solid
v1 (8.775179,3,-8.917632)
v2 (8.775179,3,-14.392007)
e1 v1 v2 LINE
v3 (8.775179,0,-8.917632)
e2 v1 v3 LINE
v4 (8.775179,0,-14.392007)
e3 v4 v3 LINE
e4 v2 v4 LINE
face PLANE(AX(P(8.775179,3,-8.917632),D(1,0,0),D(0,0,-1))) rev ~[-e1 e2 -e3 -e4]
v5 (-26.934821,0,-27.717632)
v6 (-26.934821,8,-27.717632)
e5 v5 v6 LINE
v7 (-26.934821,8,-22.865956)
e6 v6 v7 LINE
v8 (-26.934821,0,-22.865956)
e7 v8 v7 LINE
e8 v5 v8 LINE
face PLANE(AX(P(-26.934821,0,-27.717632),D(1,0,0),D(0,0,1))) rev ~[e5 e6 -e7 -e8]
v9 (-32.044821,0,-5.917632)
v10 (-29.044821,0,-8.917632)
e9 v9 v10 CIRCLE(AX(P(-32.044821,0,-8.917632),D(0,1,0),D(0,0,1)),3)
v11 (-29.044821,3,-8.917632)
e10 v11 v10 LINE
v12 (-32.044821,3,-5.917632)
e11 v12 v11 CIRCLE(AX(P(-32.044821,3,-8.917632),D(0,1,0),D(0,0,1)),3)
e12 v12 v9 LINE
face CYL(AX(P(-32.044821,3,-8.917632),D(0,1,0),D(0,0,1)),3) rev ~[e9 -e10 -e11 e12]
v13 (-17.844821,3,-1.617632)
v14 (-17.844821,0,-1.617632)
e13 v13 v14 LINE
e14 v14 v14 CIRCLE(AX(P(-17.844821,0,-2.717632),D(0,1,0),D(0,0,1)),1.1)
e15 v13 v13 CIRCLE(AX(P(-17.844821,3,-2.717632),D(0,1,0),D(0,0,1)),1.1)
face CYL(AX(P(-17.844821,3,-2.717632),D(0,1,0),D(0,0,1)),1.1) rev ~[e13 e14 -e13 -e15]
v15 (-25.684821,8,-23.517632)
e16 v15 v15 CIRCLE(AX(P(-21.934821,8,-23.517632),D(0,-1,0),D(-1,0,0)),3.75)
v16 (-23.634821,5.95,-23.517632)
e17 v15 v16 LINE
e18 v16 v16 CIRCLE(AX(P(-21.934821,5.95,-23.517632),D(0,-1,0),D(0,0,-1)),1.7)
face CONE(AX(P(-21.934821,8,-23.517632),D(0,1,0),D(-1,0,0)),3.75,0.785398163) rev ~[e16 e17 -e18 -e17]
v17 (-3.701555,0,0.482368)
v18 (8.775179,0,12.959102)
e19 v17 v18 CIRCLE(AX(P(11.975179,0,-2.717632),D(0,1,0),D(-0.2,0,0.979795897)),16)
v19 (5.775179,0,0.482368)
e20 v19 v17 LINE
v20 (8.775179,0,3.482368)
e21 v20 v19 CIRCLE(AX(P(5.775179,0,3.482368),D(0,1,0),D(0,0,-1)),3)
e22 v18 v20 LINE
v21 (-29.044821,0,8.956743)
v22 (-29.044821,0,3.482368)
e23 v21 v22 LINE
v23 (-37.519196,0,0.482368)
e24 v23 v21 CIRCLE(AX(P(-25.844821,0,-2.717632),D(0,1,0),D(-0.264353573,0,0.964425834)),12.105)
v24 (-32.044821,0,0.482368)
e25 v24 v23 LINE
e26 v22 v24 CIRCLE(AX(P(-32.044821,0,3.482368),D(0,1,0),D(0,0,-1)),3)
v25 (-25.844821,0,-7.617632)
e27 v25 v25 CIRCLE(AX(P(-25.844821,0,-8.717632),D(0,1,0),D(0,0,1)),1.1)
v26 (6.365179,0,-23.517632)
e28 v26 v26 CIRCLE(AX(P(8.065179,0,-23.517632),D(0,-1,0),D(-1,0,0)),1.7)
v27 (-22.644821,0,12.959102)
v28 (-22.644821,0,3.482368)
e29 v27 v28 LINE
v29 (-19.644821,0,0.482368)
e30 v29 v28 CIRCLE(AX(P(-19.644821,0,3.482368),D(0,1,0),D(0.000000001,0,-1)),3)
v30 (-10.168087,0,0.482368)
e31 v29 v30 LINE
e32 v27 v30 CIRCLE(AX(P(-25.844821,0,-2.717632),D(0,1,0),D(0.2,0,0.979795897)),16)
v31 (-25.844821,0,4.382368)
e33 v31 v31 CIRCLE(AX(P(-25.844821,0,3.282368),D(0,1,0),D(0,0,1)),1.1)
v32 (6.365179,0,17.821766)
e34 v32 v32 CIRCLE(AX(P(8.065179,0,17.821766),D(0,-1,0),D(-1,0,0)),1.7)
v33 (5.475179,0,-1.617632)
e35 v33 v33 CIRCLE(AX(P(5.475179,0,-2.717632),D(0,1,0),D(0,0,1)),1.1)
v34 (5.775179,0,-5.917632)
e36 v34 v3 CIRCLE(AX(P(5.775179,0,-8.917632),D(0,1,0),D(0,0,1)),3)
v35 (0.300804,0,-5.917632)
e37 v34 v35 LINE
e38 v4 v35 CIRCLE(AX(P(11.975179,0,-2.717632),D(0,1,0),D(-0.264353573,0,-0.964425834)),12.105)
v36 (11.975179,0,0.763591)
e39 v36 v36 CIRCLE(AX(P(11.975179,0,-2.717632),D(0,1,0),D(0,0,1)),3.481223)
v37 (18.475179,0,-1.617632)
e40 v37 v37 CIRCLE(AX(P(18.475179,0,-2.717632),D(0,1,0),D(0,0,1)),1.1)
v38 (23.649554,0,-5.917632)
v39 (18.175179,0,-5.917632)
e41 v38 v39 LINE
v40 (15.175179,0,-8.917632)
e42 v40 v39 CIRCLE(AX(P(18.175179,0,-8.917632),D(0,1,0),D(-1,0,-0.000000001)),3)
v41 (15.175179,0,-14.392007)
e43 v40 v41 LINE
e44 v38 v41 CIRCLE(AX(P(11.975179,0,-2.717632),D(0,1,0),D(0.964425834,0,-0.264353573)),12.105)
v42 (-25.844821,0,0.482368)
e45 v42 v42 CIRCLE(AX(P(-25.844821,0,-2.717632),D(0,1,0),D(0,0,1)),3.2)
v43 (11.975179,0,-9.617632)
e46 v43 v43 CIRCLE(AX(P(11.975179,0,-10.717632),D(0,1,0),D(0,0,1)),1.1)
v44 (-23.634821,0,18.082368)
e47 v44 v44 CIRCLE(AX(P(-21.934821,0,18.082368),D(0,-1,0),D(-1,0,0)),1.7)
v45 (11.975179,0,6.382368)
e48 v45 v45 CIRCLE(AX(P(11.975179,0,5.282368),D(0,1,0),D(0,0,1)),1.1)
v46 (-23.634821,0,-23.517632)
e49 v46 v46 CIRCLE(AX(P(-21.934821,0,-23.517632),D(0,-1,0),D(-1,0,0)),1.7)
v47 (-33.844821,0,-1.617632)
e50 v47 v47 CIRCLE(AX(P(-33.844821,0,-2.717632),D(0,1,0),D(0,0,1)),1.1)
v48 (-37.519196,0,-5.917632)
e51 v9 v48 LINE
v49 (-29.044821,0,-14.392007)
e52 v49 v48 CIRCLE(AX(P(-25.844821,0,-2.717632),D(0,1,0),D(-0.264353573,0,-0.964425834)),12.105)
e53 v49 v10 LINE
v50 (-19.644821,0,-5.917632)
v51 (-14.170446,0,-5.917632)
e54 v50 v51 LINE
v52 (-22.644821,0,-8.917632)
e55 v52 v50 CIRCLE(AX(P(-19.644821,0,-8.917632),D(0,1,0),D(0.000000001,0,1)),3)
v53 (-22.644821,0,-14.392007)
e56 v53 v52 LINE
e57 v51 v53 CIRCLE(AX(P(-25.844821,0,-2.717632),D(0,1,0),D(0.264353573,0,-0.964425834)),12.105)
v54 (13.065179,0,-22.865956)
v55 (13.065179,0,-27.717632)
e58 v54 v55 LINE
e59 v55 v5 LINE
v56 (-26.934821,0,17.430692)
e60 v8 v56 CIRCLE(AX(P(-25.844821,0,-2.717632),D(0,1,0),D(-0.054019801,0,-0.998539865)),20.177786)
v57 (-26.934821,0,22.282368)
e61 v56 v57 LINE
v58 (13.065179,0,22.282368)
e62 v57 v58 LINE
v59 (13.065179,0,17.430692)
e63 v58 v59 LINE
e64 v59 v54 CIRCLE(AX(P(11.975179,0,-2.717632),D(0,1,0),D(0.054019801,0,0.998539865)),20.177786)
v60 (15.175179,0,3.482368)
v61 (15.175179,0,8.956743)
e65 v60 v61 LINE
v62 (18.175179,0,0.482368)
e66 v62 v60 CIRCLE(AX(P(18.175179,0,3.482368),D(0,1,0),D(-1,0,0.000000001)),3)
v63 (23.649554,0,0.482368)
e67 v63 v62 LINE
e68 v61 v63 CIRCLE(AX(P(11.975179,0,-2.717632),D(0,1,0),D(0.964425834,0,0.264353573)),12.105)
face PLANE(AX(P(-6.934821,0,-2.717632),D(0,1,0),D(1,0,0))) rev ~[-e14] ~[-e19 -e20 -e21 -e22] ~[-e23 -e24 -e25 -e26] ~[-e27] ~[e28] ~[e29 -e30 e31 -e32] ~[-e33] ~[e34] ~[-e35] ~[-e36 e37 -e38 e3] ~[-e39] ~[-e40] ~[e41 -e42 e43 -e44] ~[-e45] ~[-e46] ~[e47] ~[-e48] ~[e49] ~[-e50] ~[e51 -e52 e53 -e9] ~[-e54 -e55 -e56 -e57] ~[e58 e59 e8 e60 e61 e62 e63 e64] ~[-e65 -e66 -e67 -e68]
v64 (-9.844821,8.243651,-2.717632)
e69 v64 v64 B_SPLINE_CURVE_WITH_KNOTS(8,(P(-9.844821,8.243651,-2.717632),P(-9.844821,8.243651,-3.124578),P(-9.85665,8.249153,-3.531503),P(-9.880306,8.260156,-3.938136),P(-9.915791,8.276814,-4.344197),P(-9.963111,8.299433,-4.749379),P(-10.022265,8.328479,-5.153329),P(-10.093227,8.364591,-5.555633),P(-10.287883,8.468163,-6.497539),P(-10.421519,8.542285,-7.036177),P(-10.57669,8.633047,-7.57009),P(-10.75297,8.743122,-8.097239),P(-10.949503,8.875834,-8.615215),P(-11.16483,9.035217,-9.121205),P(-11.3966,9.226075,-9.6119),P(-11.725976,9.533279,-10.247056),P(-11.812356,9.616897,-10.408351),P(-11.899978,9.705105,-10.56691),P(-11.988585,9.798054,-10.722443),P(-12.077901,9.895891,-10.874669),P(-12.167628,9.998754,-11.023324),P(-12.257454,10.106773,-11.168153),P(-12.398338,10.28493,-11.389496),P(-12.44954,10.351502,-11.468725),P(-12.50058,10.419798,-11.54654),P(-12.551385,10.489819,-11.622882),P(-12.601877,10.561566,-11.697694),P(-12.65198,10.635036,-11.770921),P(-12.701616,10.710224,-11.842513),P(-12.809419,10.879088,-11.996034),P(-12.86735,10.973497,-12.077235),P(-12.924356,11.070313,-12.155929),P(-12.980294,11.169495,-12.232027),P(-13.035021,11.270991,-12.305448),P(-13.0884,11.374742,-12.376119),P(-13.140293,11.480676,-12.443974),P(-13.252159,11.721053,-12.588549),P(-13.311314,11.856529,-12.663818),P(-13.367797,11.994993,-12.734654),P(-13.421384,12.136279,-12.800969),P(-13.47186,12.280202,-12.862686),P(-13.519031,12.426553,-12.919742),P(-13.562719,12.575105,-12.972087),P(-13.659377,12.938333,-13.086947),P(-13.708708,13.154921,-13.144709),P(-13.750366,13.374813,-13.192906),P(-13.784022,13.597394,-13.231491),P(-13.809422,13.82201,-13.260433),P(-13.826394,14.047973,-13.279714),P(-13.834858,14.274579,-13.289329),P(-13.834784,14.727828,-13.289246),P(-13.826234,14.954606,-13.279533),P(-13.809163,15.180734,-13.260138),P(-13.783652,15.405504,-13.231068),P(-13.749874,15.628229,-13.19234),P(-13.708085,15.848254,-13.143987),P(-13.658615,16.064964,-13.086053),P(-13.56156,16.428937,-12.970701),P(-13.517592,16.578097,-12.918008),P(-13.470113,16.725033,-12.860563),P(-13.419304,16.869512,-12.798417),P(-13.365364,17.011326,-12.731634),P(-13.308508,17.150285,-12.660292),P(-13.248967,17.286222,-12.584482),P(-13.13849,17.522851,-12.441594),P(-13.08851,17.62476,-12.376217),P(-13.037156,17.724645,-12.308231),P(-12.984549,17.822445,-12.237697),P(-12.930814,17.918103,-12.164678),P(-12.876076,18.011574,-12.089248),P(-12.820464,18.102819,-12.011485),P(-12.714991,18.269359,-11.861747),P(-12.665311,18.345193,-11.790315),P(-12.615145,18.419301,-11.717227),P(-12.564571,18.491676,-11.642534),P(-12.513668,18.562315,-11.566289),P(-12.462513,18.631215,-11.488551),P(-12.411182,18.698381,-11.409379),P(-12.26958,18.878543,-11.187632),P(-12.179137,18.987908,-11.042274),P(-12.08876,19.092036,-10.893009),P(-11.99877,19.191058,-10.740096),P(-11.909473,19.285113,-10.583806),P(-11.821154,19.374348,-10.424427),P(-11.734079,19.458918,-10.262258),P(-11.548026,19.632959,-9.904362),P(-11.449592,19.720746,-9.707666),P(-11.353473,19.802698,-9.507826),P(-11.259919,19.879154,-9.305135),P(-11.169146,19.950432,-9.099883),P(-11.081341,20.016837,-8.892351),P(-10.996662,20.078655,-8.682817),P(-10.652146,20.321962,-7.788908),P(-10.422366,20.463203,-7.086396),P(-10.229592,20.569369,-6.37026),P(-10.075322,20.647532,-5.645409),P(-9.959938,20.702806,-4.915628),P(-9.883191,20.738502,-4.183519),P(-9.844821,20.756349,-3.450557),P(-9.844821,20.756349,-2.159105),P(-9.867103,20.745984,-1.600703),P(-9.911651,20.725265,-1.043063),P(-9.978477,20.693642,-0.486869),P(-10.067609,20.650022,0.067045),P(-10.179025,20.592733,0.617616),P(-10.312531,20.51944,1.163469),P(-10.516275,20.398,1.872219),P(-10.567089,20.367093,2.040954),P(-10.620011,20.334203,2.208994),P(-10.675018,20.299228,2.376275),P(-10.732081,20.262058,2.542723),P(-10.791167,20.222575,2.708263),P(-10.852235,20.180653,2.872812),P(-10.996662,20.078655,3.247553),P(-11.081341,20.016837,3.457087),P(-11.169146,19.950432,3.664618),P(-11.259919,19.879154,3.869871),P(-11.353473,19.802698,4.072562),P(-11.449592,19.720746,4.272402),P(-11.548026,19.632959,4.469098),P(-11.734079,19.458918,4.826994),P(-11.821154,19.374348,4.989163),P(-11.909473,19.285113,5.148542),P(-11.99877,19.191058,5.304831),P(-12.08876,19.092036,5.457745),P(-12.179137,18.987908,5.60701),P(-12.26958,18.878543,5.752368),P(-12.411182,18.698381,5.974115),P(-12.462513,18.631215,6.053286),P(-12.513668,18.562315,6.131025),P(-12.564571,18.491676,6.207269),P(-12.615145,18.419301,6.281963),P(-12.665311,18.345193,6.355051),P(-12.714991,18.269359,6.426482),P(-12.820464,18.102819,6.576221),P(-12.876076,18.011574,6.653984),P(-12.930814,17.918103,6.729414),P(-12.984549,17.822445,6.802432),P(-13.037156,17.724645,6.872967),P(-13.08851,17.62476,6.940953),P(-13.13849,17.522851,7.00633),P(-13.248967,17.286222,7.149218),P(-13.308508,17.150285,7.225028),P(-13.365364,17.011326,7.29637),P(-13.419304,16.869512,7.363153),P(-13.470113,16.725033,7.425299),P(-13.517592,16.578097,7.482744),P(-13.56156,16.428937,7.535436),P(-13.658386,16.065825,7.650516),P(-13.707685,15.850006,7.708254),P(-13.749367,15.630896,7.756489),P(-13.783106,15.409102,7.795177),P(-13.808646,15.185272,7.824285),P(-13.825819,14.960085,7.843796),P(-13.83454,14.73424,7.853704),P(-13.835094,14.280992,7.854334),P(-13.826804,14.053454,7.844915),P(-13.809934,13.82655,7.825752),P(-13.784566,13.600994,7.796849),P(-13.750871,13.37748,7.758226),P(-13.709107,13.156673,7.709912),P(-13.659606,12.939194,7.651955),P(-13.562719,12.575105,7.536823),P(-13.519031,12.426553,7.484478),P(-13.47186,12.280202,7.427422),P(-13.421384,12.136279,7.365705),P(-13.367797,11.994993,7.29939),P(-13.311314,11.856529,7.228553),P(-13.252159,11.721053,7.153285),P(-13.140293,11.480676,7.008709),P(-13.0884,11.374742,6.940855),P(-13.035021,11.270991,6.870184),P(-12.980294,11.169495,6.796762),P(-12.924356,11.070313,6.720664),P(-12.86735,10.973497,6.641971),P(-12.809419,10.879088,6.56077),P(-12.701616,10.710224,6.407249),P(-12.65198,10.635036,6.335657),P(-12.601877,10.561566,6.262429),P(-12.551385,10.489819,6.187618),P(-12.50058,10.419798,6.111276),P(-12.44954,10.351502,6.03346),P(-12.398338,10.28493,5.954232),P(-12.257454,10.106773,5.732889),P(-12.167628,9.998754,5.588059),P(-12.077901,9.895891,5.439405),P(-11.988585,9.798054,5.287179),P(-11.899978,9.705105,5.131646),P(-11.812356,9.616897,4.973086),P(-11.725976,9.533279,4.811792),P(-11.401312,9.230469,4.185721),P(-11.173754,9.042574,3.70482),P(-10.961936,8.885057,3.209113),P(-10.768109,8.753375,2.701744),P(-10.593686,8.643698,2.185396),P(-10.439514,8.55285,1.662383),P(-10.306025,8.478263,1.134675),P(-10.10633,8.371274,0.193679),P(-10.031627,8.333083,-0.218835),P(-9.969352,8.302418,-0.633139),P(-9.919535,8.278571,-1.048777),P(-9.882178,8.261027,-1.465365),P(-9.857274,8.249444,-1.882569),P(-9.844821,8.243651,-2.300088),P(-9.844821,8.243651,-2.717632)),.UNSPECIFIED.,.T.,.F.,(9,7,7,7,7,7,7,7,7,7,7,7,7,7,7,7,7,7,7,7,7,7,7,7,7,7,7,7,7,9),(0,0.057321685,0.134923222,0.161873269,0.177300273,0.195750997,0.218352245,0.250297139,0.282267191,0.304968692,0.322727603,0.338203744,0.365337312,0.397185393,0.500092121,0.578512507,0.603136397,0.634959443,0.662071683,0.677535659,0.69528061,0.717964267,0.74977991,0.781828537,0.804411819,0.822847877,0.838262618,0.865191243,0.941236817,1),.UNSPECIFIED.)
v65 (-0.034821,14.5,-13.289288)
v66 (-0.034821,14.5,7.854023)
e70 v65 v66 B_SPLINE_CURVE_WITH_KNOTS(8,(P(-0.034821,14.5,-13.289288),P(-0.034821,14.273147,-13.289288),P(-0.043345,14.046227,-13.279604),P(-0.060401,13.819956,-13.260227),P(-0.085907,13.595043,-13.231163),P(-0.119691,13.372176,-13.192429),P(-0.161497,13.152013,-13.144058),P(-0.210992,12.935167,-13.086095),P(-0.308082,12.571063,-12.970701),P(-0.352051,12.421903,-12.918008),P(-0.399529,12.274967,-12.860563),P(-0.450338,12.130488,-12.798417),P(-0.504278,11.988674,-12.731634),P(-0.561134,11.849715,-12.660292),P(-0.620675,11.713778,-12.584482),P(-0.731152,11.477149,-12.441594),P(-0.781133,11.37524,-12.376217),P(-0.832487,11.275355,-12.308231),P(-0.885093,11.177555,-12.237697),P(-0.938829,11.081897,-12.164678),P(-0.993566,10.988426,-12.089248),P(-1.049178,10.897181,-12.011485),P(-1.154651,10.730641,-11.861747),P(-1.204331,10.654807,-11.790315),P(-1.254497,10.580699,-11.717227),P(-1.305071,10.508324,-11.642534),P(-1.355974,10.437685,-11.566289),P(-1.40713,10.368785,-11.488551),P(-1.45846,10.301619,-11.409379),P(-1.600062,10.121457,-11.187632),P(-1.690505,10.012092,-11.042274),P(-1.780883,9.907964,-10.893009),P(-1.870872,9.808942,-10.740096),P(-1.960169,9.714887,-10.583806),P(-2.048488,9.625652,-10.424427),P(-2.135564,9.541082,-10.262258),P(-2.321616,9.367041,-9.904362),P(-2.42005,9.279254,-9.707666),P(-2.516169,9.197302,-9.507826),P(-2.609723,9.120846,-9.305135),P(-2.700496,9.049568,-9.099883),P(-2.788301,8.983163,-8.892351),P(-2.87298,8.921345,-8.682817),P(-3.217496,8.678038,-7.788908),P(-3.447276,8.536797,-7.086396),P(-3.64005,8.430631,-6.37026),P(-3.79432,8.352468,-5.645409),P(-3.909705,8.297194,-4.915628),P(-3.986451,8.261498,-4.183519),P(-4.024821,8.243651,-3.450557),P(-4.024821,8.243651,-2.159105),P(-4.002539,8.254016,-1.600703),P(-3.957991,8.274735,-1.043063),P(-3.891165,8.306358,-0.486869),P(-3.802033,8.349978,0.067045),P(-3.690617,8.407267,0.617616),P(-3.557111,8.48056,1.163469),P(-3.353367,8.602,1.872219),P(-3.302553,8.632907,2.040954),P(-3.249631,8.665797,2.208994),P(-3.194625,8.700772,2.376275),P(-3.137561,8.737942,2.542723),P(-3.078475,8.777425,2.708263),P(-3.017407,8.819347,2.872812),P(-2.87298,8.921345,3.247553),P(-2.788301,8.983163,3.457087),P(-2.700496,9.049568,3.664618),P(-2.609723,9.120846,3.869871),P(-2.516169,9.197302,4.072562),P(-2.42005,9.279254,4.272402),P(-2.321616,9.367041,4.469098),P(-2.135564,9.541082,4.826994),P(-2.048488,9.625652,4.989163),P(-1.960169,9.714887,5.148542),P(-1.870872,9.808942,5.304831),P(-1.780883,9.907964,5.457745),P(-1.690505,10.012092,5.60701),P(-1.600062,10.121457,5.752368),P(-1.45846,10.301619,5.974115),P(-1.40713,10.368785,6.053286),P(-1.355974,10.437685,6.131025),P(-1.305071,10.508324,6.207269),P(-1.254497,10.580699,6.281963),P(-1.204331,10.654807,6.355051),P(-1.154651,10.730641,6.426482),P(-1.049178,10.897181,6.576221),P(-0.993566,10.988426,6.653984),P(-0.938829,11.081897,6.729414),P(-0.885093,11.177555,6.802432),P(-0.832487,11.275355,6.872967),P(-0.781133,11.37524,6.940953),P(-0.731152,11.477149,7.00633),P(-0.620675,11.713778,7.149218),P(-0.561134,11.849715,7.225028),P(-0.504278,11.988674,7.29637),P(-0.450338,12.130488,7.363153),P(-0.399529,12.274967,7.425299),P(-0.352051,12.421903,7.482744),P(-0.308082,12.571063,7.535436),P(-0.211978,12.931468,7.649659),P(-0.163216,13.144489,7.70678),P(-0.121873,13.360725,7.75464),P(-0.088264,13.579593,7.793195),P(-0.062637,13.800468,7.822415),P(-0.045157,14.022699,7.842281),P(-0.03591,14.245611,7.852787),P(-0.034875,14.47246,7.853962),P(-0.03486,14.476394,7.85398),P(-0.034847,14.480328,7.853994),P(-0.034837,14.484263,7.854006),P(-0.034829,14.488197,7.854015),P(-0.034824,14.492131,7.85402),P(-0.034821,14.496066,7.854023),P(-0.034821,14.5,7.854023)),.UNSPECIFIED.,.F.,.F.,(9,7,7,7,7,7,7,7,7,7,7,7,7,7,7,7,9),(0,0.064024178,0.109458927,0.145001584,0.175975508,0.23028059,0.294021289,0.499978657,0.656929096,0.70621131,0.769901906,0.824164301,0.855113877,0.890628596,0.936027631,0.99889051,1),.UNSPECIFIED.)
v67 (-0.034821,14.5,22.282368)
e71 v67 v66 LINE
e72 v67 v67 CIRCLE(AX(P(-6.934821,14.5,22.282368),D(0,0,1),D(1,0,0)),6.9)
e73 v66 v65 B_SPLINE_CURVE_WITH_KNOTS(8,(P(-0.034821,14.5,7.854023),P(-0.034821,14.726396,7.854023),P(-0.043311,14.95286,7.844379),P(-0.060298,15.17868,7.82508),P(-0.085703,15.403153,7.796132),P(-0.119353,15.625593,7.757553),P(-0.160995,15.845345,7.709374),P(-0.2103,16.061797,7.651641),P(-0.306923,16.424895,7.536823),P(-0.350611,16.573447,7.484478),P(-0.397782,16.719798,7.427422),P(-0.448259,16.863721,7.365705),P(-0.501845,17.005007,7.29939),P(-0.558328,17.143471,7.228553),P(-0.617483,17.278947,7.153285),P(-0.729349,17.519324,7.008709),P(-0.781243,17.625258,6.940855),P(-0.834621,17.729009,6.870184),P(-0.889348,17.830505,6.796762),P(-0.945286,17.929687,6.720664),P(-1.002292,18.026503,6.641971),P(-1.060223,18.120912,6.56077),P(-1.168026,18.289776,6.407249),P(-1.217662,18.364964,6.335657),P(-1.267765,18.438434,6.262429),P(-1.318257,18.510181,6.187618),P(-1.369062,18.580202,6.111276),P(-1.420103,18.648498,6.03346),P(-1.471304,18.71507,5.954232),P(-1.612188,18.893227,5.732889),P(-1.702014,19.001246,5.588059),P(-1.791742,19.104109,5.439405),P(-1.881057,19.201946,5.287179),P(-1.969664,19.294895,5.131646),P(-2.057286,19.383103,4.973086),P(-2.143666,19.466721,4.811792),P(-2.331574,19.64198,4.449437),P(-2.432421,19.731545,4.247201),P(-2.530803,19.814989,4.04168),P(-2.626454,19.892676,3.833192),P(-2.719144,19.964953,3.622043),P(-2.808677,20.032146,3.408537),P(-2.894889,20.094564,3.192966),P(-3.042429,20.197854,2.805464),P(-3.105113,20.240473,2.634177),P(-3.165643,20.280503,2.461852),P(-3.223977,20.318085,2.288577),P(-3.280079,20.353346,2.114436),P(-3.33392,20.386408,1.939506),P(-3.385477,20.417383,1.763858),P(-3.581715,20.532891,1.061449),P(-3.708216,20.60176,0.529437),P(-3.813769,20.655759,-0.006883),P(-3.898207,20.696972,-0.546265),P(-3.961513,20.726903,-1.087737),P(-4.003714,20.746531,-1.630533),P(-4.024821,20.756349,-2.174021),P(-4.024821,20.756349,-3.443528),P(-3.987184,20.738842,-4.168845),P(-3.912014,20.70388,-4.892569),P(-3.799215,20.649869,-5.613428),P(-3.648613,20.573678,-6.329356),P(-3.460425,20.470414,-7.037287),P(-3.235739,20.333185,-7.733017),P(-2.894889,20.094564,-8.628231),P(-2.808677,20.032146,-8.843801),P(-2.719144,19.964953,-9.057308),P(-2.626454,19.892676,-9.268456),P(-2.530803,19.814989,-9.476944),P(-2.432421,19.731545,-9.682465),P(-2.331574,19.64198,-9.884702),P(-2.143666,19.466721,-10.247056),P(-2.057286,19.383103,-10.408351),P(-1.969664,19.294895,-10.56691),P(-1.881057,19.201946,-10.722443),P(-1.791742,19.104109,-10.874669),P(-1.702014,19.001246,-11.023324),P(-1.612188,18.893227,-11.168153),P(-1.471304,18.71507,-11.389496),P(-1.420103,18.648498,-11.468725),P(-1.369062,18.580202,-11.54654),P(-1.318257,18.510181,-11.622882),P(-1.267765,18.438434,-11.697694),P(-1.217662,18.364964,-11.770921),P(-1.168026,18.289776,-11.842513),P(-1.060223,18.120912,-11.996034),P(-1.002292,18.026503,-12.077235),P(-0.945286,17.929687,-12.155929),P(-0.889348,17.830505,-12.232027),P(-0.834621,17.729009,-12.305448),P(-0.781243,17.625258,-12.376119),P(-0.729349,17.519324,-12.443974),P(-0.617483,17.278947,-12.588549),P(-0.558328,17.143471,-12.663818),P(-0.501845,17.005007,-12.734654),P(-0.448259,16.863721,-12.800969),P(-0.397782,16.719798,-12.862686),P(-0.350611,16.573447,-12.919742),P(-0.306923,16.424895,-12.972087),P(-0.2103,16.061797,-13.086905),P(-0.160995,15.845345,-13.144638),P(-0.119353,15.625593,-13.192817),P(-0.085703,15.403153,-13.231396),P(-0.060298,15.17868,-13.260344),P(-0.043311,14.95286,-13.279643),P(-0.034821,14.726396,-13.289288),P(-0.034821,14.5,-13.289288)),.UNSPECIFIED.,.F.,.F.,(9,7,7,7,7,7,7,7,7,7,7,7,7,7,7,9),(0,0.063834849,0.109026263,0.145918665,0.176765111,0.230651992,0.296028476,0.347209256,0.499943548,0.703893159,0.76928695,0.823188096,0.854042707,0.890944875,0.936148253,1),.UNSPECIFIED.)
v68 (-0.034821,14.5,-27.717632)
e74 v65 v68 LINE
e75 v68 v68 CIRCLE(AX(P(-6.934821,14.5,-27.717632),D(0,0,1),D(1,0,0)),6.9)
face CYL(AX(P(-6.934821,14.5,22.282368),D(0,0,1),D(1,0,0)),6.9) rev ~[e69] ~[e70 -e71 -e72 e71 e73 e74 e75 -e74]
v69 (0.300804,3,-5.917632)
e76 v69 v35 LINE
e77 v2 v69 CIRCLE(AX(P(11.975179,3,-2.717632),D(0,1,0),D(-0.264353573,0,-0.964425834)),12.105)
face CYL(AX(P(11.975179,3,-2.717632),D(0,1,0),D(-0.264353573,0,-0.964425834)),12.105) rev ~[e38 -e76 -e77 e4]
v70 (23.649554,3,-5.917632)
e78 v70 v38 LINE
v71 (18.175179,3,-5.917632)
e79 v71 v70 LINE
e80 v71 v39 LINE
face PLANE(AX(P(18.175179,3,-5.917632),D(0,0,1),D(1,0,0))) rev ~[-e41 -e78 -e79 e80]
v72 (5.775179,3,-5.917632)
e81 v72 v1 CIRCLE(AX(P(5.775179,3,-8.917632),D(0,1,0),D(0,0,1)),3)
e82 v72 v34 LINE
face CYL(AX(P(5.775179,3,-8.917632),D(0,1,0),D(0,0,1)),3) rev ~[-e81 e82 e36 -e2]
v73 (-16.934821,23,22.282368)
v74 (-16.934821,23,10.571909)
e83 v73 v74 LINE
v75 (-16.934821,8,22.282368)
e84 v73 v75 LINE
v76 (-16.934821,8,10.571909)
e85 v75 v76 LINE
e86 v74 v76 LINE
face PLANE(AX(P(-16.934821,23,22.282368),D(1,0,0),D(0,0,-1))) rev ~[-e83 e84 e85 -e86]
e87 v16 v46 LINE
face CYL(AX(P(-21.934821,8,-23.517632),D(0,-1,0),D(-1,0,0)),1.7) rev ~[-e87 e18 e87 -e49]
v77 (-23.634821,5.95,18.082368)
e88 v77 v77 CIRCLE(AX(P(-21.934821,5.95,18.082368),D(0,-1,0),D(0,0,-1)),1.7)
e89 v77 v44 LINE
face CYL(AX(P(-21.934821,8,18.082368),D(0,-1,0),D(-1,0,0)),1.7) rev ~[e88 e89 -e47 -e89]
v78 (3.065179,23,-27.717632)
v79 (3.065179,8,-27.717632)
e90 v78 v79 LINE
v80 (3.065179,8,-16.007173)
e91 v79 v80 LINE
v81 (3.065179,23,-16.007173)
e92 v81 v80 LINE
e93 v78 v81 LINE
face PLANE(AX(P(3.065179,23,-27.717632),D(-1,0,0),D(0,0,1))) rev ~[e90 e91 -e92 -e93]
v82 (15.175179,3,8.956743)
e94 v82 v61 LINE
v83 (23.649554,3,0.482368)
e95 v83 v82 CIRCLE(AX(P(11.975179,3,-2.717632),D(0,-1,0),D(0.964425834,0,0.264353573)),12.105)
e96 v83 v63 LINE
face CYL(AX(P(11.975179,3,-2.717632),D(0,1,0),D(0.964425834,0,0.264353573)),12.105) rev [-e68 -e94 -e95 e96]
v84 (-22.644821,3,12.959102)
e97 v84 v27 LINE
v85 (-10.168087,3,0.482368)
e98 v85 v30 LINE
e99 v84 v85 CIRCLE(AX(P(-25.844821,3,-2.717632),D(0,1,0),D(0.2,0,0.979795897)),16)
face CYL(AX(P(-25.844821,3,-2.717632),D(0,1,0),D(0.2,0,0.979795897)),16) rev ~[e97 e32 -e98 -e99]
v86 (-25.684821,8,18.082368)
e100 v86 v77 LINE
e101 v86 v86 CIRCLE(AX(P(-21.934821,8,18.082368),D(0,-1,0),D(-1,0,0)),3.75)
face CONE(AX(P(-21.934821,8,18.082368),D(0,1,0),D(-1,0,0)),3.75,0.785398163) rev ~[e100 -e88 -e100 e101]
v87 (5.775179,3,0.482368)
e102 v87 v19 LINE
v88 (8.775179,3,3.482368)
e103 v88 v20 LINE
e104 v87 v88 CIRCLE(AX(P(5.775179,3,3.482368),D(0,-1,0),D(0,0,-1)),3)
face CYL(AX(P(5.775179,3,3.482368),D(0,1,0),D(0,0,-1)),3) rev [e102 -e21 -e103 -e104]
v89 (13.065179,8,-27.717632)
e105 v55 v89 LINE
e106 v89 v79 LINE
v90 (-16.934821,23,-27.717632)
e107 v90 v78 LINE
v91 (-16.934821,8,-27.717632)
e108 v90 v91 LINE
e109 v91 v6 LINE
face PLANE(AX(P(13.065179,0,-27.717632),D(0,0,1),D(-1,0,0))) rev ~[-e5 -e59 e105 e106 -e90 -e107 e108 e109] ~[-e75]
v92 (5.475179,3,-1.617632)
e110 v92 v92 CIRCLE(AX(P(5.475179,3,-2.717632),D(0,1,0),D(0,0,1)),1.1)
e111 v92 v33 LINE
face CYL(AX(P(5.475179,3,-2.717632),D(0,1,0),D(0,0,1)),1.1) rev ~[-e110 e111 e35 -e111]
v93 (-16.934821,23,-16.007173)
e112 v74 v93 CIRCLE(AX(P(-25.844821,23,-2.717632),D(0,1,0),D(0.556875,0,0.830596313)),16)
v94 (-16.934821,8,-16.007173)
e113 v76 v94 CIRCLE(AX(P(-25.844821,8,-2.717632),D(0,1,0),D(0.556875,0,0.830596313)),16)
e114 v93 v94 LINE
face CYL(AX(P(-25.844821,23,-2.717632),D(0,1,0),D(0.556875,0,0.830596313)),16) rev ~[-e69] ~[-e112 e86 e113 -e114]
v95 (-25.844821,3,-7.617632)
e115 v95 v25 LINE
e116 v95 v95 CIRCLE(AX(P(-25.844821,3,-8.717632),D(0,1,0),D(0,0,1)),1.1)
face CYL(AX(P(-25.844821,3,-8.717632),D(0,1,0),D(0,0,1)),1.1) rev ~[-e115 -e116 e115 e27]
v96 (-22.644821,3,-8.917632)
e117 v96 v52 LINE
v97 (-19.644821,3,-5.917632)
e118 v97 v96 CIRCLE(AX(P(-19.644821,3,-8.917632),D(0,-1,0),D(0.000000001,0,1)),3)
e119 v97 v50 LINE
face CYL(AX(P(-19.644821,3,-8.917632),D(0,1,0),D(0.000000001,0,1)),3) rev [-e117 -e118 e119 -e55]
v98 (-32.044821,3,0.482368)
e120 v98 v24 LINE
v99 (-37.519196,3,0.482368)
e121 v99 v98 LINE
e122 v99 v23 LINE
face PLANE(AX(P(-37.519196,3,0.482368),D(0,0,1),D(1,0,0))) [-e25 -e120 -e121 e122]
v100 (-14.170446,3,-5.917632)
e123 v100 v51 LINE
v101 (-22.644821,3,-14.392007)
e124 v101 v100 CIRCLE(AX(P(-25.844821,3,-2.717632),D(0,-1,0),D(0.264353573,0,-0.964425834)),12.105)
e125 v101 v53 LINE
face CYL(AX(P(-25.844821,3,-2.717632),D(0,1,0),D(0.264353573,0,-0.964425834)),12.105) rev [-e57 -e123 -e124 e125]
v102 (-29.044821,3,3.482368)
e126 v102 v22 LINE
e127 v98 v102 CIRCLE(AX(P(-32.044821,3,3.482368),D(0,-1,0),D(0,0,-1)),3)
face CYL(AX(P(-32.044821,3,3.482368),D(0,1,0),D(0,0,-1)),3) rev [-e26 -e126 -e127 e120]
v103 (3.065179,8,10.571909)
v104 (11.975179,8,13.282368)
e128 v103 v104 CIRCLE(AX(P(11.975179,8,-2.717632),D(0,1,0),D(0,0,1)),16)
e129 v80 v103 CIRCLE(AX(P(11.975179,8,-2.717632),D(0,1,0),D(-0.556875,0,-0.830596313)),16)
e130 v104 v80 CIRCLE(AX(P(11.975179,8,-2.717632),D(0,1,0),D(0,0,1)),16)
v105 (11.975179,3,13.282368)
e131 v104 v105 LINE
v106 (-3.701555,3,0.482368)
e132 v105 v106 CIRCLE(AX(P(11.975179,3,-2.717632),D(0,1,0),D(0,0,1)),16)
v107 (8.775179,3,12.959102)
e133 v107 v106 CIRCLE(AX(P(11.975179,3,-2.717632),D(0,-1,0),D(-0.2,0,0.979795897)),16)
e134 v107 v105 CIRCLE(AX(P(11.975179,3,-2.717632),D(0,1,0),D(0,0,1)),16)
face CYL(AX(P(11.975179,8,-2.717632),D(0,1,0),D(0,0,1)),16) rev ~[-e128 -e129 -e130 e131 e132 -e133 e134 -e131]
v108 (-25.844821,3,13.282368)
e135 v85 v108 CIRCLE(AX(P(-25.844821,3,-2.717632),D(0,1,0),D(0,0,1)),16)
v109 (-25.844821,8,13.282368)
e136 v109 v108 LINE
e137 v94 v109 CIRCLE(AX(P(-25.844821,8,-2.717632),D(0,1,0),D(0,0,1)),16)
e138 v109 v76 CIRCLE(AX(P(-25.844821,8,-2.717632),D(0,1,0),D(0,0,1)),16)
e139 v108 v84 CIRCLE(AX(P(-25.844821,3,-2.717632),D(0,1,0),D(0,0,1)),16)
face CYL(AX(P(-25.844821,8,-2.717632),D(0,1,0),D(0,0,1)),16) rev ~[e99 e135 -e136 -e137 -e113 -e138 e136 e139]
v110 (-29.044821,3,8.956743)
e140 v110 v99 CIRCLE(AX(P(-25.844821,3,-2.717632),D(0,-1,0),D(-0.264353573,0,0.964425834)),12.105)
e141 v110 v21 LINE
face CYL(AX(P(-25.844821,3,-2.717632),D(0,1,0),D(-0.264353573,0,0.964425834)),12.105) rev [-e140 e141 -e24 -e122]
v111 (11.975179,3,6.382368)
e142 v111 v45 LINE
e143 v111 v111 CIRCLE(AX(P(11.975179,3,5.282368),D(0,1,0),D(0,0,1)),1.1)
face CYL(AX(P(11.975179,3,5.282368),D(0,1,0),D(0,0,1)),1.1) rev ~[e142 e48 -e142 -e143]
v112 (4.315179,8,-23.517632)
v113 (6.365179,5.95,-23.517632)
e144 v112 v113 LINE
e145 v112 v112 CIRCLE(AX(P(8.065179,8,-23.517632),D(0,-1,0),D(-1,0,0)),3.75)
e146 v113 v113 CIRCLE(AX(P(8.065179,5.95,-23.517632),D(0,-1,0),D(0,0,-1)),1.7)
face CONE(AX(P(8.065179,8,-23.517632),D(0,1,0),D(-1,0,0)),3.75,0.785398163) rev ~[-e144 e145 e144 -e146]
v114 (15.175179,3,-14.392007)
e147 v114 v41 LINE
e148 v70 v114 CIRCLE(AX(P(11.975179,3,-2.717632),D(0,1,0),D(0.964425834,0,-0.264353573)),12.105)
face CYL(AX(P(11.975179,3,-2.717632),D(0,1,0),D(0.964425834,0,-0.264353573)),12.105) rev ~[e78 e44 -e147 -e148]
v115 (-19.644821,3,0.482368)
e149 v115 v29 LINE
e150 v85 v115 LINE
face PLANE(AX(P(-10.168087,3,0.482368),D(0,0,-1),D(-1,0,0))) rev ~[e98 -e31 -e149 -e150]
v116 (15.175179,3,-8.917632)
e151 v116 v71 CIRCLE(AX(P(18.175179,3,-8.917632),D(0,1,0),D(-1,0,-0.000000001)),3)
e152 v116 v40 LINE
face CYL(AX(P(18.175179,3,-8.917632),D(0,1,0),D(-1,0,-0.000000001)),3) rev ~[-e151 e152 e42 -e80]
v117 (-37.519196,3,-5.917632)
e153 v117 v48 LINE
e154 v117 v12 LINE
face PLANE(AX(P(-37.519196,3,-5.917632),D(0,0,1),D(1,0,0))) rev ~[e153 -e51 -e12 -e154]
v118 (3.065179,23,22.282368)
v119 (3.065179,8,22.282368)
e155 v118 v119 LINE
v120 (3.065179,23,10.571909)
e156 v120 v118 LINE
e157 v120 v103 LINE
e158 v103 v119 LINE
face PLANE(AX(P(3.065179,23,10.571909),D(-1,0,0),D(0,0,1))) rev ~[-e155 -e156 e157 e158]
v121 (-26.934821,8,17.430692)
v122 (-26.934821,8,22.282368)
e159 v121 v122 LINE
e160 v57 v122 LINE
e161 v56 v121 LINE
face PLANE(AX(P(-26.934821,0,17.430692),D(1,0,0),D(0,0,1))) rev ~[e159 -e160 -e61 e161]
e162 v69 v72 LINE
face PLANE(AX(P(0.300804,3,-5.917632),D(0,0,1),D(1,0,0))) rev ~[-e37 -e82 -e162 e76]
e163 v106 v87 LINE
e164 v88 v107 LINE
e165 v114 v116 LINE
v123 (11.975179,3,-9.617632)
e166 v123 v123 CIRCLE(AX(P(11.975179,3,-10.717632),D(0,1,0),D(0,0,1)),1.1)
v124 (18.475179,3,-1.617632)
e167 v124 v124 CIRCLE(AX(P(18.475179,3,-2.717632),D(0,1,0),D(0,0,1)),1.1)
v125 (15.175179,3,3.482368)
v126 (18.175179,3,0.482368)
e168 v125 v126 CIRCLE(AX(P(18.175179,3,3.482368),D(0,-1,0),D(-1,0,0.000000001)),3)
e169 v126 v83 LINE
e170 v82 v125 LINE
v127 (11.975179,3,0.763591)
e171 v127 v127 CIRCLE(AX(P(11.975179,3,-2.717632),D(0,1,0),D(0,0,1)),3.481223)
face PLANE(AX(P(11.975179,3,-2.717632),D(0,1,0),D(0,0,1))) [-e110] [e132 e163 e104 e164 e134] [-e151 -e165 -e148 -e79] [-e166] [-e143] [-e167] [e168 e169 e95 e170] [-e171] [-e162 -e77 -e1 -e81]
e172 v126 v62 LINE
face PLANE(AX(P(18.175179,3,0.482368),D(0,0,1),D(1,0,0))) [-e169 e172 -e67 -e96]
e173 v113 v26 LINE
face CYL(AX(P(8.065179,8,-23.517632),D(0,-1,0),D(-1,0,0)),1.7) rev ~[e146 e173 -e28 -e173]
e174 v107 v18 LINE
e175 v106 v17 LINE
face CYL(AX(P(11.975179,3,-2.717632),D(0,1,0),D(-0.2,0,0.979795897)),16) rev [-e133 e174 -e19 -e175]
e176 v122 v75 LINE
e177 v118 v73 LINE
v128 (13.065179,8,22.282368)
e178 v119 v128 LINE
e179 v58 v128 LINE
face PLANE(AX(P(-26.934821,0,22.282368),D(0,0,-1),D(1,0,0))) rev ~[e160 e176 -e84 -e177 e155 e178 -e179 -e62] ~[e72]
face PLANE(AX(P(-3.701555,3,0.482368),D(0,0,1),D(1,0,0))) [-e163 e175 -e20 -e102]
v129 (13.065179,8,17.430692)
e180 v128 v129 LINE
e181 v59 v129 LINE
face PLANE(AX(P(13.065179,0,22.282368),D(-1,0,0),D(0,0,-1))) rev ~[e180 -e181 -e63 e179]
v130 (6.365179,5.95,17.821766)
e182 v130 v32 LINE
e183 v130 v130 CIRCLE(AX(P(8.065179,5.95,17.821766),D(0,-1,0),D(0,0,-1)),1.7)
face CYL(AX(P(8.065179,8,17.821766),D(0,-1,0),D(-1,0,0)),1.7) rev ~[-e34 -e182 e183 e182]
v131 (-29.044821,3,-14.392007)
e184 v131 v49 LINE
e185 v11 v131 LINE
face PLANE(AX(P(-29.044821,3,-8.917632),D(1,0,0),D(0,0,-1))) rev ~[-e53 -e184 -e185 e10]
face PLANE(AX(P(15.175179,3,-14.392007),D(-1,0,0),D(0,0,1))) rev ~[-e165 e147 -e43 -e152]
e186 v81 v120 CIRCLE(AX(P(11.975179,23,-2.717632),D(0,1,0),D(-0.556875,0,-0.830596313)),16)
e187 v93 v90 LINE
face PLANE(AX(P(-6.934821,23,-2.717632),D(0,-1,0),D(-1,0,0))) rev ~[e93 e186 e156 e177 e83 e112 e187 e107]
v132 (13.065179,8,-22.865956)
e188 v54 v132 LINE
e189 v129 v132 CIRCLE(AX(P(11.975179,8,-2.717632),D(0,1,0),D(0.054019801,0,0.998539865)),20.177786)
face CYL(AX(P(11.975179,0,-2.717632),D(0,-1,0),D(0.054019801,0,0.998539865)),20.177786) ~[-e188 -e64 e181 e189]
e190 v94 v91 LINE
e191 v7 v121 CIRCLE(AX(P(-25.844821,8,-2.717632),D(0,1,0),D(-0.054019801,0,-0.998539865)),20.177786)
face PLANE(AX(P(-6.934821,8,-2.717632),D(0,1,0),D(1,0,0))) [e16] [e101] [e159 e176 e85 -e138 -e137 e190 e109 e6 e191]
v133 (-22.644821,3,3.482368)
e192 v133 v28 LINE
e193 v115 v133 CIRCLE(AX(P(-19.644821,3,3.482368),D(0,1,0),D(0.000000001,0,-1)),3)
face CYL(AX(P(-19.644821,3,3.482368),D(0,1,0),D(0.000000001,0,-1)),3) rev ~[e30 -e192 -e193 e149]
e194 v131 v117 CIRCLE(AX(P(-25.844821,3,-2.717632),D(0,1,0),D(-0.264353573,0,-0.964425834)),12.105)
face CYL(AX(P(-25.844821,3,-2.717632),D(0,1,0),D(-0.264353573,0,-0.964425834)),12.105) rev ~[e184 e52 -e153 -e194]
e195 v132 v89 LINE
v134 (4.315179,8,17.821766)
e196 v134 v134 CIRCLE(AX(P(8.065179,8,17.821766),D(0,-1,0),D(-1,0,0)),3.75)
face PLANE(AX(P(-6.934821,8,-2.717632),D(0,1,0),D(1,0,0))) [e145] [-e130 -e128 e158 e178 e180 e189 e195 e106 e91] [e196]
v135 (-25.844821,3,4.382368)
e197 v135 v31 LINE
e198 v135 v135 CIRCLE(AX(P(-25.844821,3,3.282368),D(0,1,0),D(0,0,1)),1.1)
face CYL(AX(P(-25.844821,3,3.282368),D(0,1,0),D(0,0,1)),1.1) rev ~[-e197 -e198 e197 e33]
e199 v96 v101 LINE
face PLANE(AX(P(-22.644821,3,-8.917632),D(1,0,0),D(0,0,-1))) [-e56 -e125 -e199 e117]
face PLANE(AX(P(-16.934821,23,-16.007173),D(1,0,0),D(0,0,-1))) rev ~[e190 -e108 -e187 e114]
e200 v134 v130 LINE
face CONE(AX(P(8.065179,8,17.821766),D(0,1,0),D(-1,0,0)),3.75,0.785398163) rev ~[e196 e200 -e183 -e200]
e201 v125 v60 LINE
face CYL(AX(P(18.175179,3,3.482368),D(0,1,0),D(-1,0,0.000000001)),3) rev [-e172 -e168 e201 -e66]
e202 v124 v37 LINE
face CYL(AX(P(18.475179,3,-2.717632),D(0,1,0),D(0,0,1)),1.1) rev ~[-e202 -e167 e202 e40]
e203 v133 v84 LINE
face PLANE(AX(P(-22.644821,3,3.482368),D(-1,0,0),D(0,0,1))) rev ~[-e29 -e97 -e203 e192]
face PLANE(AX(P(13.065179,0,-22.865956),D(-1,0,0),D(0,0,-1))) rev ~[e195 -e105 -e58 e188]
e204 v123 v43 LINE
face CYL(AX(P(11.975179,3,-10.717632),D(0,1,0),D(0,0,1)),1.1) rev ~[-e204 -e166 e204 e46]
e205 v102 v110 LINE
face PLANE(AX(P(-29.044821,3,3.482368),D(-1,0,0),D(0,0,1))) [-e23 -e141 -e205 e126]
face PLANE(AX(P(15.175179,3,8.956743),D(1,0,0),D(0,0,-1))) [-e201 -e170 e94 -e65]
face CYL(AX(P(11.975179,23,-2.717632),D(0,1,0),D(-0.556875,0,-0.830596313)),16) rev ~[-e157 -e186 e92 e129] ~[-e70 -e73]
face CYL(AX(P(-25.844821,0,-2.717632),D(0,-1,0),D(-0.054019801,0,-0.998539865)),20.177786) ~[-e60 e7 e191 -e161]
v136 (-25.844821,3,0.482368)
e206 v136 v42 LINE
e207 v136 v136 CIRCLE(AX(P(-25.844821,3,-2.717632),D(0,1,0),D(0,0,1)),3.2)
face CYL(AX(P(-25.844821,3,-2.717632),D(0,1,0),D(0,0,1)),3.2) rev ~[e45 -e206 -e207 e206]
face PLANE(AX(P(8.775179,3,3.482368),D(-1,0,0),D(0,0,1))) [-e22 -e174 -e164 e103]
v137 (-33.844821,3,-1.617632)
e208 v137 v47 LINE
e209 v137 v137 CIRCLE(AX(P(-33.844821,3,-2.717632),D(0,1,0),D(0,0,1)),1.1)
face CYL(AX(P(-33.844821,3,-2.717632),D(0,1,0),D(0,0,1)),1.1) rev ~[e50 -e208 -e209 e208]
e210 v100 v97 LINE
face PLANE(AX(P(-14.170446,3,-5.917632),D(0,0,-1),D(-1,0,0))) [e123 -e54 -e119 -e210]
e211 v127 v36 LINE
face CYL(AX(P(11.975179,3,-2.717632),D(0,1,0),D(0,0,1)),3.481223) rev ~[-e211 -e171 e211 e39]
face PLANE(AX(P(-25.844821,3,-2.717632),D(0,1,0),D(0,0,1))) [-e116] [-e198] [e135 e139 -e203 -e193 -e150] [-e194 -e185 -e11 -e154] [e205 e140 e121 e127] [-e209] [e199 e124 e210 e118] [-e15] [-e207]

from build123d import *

# Parameters (mm, degrees)
BOSS_EXTRUDE1_DEPTH                                 = 8
SKETCH4_R                                           = 16
CUT_EXTRUDE1_DEPTH                                  = 5
CUT_EXTRUDE3_REACH                                  = 55.957
SKETCH6_R                                           = 1.1
SKETCH6_R_2                                         = 3.2
SKETCH6_R_3                                         = 3.481223099
BOSS_EXTRUDE2_START                                 = 15
BOSS_EXTRUDE2_DEPTH                                 = 15
CUT_EXTRUDE4_REACH                                  = 73.743
SKETCH7_R                                           = 6.9
CSK_FOR_M3_COUNTERSUNK_FLAT_HEAD_SCREW1_D           = 3.4
CSK_FOR_M3_COUNTERSUNK_FLAT_HEAD_SCREW1_DEPTH       = 10
CSK_FOR_M3_COUNTERSUNK_FLAT_HEAD_SCREW1_CSINK_D     = 7.5
CSK_FOR_M3_COUNTERSUNK_FLAT_HEAD_SCREW1_CSINK_ANGLE = 90
CSK_FOR_M3_COUNTERSUNK_FLAT_HEAD_SCREW1_TIP         = 1.021463052


with BuildPart() as part:
    # Sketch2 → Boss-Extrude1 (new body)
    with BuildSketch(Plane(origin=(0, 0, 0), x_dir=(1, 0, 0), z_dir=(0, 1, 0))):
        with BuildLine():
            Line((-26.93482114, -17.430691923), (-26.93482114, -22.282367874))
            Line((-26.93482114, -22.282367874), (13.06517886, -22.282367874))
            Line((13.06517886, -22.282367874), (13.06517886, -17.430691923))
            ThreePointArc((13.06517886, -17.430691923), (32.15296521, 2.717632126), (13.06517886, 22.865956175))
            Line((13.06517886, 22.865956175), (13.06517886, 27.717632126))
            Line((13.06517886, 27.717632126), (-26.93482114, 27.717632126))
            Line((-26.93482114, 27.717632126), (-26.93482114, 22.865956175))
            ThreePointArc((-26.93482114, 22.865956175), (-46.02260749, 2.717632126), (-26.93482114, -17.430691923))
        make_face()
    extrude(amount=BOSS_EXTRUDE1_DEPTH)

    # Sketch4 → Cut-Extrude1 (cut)
    with BuildSketch(Plane(origin=(0, 8, 0), x_dir=(1, 0, 0), z_dir=(0, 1, 0))):
        with Locations(Location((-25.84482114, 2.717632126, 0), (0, 0, 270))):
            Circle(SKETCH4_R)
        with Locations(Location((11.97517886, 2.717632126, 0), (0, 0, 270))):
            Circle(SKETCH4_R)
    extrude(amount=-CUT_EXTRUDE1_DEPTH, mode=Mode.SUBTRACT)

    # Sketch6 → Cut-Extrude3 (cut, up to next)
    with BuildSketch(Plane(origin=(0, 3, 0), x_dir=(1, 0, 0), z_dir=(0, 1, 0)), mode=Mode.PRIVATE) as cut_extrude3_sk1:
        with Locations(Location((-33.84482114, 2.717632126, 0), (0, 0, 270))):
            Circle(SKETCH6_R)
    cut_extrude3_tool1 = extrude(cut_extrude3_sk1.sketch, amount=-CUT_EXTRUDE3_REACH, mode=Mode.PRIVATE) & part.part
    # Sketch6 → Cut-Extrude3 (cut, up to next)
    with BuildSketch(Plane(origin=(0, 3, 0), x_dir=(1, 0, 0), z_dir=(0, 1, 0)), mode=Mode.PRIVATE) as cut_extrude3_sk2:
        with Locations(Location((-17.84482114, 2.717632126, 0), (0, 0, 270))):
            Circle(SKETCH6_R)
    cut_extrude3_tool2 = extrude(cut_extrude3_sk2.sketch, amount=-CUT_EXTRUDE3_REACH, mode=Mode.PRIVATE) & part.part
    # Sketch6 → Cut-Extrude3 (cut, up to next)
    with BuildSketch(Plane(origin=(0, 3, 0), x_dir=(1, 0, 0), z_dir=(0, 1, 0)), mode=Mode.PRIVATE) as cut_extrude3_sk3:
        with Locations(Location((-25.84482114, 8.717632126, 0), (0, 0, 270))):
            Circle(SKETCH6_R)
    cut_extrude3_tool3 = extrude(cut_extrude3_sk3.sketch, amount=-CUT_EXTRUDE3_REACH, mode=Mode.PRIVATE) & part.part
    # Sketch6 → Cut-Extrude3 (cut, up to next)
    with BuildSketch(Plane(origin=(0, 3, 0), x_dir=(1, 0, 0), z_dir=(0, 1, 0)), mode=Mode.PRIVATE) as cut_extrude3_sk4:
        with Locations(Location((-25.84482114, -3.282367874, 0), (0, 0, 270))):
            Circle(SKETCH6_R)
    cut_extrude3_tool4 = extrude(cut_extrude3_sk4.sketch, amount=-CUT_EXTRUDE3_REACH, mode=Mode.PRIVATE) & part.part
    # Sketch6 → Cut-Extrude3 (cut, up to next)
    with BuildSketch(Plane(origin=(0, 3, 0), x_dir=(1, 0, 0), z_dir=(0, 1, 0)), mode=Mode.PRIVATE) as cut_extrude3_sk5:
        with Locations(Location((-25.84482114, 2.717632126, 0), (0, 0, 270))):
            Circle(SKETCH6_R_2)
    cut_extrude3_tool5 = extrude(cut_extrude3_sk5.sketch, amount=-CUT_EXTRUDE3_REACH, mode=Mode.PRIVATE) & part.part
    # Sketch6 → Cut-Extrude3 (cut, up to next)
    with BuildSketch(Plane(origin=(0, 3, 0), x_dir=(1, 0, 0), z_dir=(0, 1, 0)), mode=Mode.PRIVATE) as cut_extrude3_sk6:
        with Locations(Location((18.47517886, 2.717632126, 0), (0, 0, 270))):
            Circle(SKETCH6_R)
    cut_extrude3_tool6 = extrude(cut_extrude3_sk6.sketch, amount=-CUT_EXTRUDE3_REACH, mode=Mode.PRIVATE) & part.part
    # Sketch6 → Cut-Extrude3 (cut, up to next)
    with BuildSketch(Plane(origin=(0, 3, 0), x_dir=(1, 0, 0), z_dir=(0, 1, 0)), mode=Mode.PRIVATE) as cut_extrude3_sk7:
        with Locations(Location((11.97517886, 10.717632126, 0), (0, 0, 270))):
            Circle(SKETCH6_R)
    cut_extrude3_tool7 = extrude(cut_extrude3_sk7.sketch, amount=-CUT_EXTRUDE3_REACH, mode=Mode.PRIVATE) & part.part
    # Sketch6 → Cut-Extrude3 (cut, up to next)
    with BuildSketch(Plane(origin=(0, 3, 0), x_dir=(1, 0, 0), z_dir=(0, 1, 0)), mode=Mode.PRIVATE) as cut_extrude3_sk8:
        with Locations(Location((5.47517886, 2.717632126, 0), (0, 0, 270))):
            Circle(SKETCH6_R)
    cut_extrude3_tool8 = extrude(cut_extrude3_sk8.sketch, amount=-CUT_EXTRUDE3_REACH, mode=Mode.PRIVATE) & part.part
    # Sketch6 → Cut-Extrude3 (cut, up to next)
    with BuildSketch(Plane(origin=(0, 3, 0), x_dir=(1, 0, 0), z_dir=(0, 1, 0)), mode=Mode.PRIVATE) as cut_extrude3_sk9:
        with Locations(Location((11.97517886, -5.282367874, 0), (0, 0, 270))):
            Circle(SKETCH6_R)
    cut_extrude3_tool9 = extrude(cut_extrude3_sk9.sketch, amount=-CUT_EXTRUDE3_REACH, mode=Mode.PRIVATE) & part.part
    # Sketch6 → Cut-Extrude3 (cut, up to next)
    with BuildSketch(Plane(origin=(0, 3, 0), x_dir=(1, 0, 0), z_dir=(0, 1, 0)), mode=Mode.PRIVATE) as cut_extrude3_sk10:
        with Locations(Location((11.97517886, 2.717632126, 0), (0, 0, 270))):
            Circle(SKETCH6_R_3)
    cut_extrude3_tool10 = extrude(cut_extrude3_sk10.sketch, amount=-CUT_EXTRUDE3_REACH, mode=Mode.PRIVATE) & part.part
    # Sketch6 → Cut-Extrude3 (cut, up to next)
    with BuildSketch(Plane(origin=(0, 3, 0), x_dir=(1, 0, 0), z_dir=(0, 1, 0)), mode=Mode.PRIVATE) as cut_extrude3_sk11:
        with BuildLine():
            Line((-29.04482114, -3.482367874), (-29.04482114, -8.95674259))
            ThreePointArc((-29.04482114, -8.95674259), (-34.404348726, -5.84189546), (-37.519195856, -0.482367874))
            Line((-37.519195856, -0.482367874), (-32.04482114, -0.482367874))
            ThreePointArc((-32.04482114, -0.482367874), (-29.923500797, -1.36104753), (-29.04482114, -3.482367874))
        make_face()
    cut_extrude3_tool11 = extrude(cut_extrude3_sk11.sketch, amount=-CUT_EXTRUDE3_REACH, mode=Mode.PRIVATE) & part.part
    # Sketch6 → Cut-Extrude3 (cut, up to next)
    with BuildSketch(Plane(origin=(0, 3, 0), x_dir=(1, 0, 0), z_dir=(0, 1, 0)), mode=Mode.PRIVATE) as cut_extrude3_sk12:
        with BuildLine():
            Line((-29.04482114, 8.917632126), (-29.04482114, 14.392006842))
            ThreePointArc((-29.04482114, 14.392006842), (-34.404348726, 11.277159712), (-37.519195856, 5.917632126))
            Line((-37.519195856, 5.917632126), (-32.04482114, 5.917632126))
            ThreePointArc((-32.04482114, 5.917632126), (-29.923500797, 6.796311782), (-29.04482114, 8.917632126))
        make_face()
    cut_extrude3_tool12 = extrude(cut_extrude3_sk12.sketch, amount=-CUT_EXTRUDE3_REACH, mode=Mode.PRIVATE) & part.part
    # Sketch6 → Cut-Extrude3 (cut, up to next)
    with BuildSketch(Plane(origin=(0, 3, 0), x_dir=(1, 0, 0), z_dir=(0, 1, 0)), mode=Mode.PRIVATE) as cut_extrude3_sk13:
        with BuildLine():
            Line((-22.64482114, 8.917632126), (-22.64482114, 14.392006842))
            ThreePointArc((-22.64482114, 14.392006842), (-17.285293554, 11.277159712), (-14.170446425, 5.917632126))
            Line((-14.170446425, 5.917632126), (-19.64482114, 5.917632126))
            ThreePointArc((-19.64482114, 5.917632126), (-21.766141484, 6.796311782), (-22.64482114, 8.917632126))
        make_face()
    cut_extrude3_tool13 = extrude(cut_extrude3_sk13.sketch, amount=-CUT_EXTRUDE3_REACH, mode=Mode.PRIVATE) & part.part
    # Sketch6 → Cut-Extrude3 (cut, up to next)
    with BuildSketch(Plane(origin=(0, 3, 0), x_dir=(1, 0, 0), z_dir=(0, 1, 0)), mode=Mode.PRIVATE) as cut_extrude3_sk14:
        with BuildLine():
            Line((-22.64482114, -3.482367874), (-22.64482114, -12.959102228))
            ThreePointArc((-22.64482114, -12.959102228), (-14.531112641, -8.596076373), (-10.168086786, -0.482367874))
            Line((-10.168086786, -0.482367874), (-19.64482114, -0.482367874))
            ThreePointArc((-19.64482114, -0.482367874), (-21.766141484, -1.36104753), (-22.64482114, -3.482367874))
        make_face()
    cut_extrude3_tool14 = extrude(cut_extrude3_sk14.sketch, amount=-CUT_EXTRUDE3_REACH, mode=Mode.PRIVATE) & part.part
    # Sketch6 → Cut-Extrude3 (cut, up to next)
    with BuildSketch(Plane(origin=(0, 3, 0), x_dir=(1, 0, 0), z_dir=(0, 1, 0)), mode=Mode.PRIVATE) as cut_extrude3_sk15:
        with BuildLine():
            Line((-3.701555494, -0.482367874), (5.77517886, -0.482367874))
            ThreePointArc((5.77517886, -0.482367874), (7.896499203, -1.36104753), (8.77517886, -3.482367874))
            Line((8.77517886, -3.482367874), (8.77517886, -12.959102228))
            ThreePointArc((8.77517886, -12.959102228), (0.661470361, -8.596076373), (-3.701555494, -0.482367874))
        make_face()
    cut_extrude3_tool15 = extrude(cut_extrude3_sk15.sketch, amount=-CUT_EXTRUDE3_REACH, mode=Mode.PRIVATE) & part.part
    # Sketch6 → Cut-Extrude3 (cut, up to next)
    with BuildSketch(Plane(origin=(0, 3, 0), x_dir=(1, 0, 0), z_dir=(0, 1, 0)), mode=Mode.PRIVATE) as cut_extrude3_sk16:
        with BuildLine():
            Line((0.300804144, 5.917632126), (5.77517886, 5.917632126))
            ThreePointArc((5.77517886, 5.917632126), (7.896499203, 6.796311782), (8.77517886, 8.917632126))
            Line((8.77517886, 8.917632126), (8.77517886, 14.392006842))
            ThreePointArc((8.77517886, 14.392006842), (3.415651274, 11.277159712), (0.300804144, 5.917632126))
        make_face()
    cut_extrude3_tool16 = extrude(cut_extrude3_sk16.sketch, amount=-CUT_EXTRUDE3_REACH, mode=Mode.PRIVATE) & part.part
    # Sketch6 → Cut-Extrude3 (cut, up to next)
    with BuildSketch(Plane(origin=(0, 3, 0), x_dir=(1, 0, 0), z_dir=(0, 1, 0)), mode=Mode.PRIVATE) as cut_extrude3_sk17:
        with BuildLine():
            Line((15.17517886, -8.95674259), (15.17517886, -3.482367874))
            ThreePointArc((15.17517886, -3.482367874), (16.053858516, -1.36104753), (18.17517886, -0.482367874))
            Line((18.17517886, -0.482367874), (23.649553575, -0.482367874))
            ThreePointArc((23.649553575, -0.482367874), (20.534706446, -5.84189546), (15.17517886, -8.95674259))
        make_face()
    cut_extrude3_tool17 = extrude(cut_extrude3_sk17.sketch, amount=-CUT_EXTRUDE3_REACH, mode=Mode.PRIVATE) & part.part
    # Sketch6 → Cut-Extrude3 (cut, up to next)
    with BuildSketch(Plane(origin=(0, 3, 0), x_dir=(1, 0, 0), z_dir=(0, 1, 0)), mode=Mode.PRIVATE) as cut_extrude3_sk18:
        with BuildLine():
            Line((18.17517886, 5.917632126), (23.649553575, 5.917632126))
            ThreePointArc((23.649553575, 5.917632126), (20.534706446, 11.277159712), (15.17517886, 14.392006842))
            Line((15.17517886, 14.392006842), (15.17517886, 8.917632126))
            ThreePointArc((15.17517886, 8.917632126), (16.053858516, 6.796311782), (18.17517886, 5.917632126))
        make_face()
    cut_extrude3_tool18 = extrude(cut_extrude3_sk18.sketch, amount=-CUT_EXTRUDE3_REACH, mode=Mode.PRIVATE) & part.part
    add(cut_extrude3_tool1.solids().sort_by_distance((-33.844821, 3, -2.717632))[0], mode=Mode.SUBTRACT)
    add(cut_extrude3_tool2.solids().sort_by_distance((-17.844821, 3, -2.717632))[0], mode=Mode.SUBTRACT)
    add(cut_extrude3_tool3.solids().sort_by_distance((-25.844821, 3, -8.717632))[0], mode=Mode.SUBTRACT)
    add(cut_extrude3_tool4.solids().sort_by_distance((-25.844821, 3, 3.282368))[0], mode=Mode.SUBTRACT)
    add(cut_extrude3_tool5.solids().sort_by_distance((-25.844821, 3, -2.717632))[0], mode=Mode.SUBTRACT)
    add(cut_extrude3_tool6.solids().sort_by_distance((18.475179, 3, -2.717632))[0], mode=Mode.SUBTRACT)
    add(cut_extrude3_tool7.solids().sort_by_distance((11.975179, 3, -10.717632))[0], mode=Mode.SUBTRACT)
    add(cut_extrude3_tool8.solids().sort_by_distance((5.475179, 3, -2.717632))[0], mode=Mode.SUBTRACT)
    add(cut_extrude3_tool9.solids().sort_by_distance((11.975179, 3, 5.282368))[0], mode=Mode.SUBTRACT)
    add(cut_extrude3_tool10.solids().sort_by_distance((11.975179, 3, -2.717632))[0], mode=Mode.SUBTRACT)
    add(cut_extrude3_tool11.solids().sort_by_distance((-32.4702, 3, 3.907747))[0], mode=Mode.SUBTRACT)
    add(cut_extrude3_tool12.solids().sort_by_distance((-32.4702, 3, -9.343011))[0], mode=Mode.SUBTRACT)
    add(cut_extrude3_tool13.solids().sort_by_distance((-19.219442, 3, -9.343011))[0], mode=Mode.SUBTRACT)
    add(cut_extrude3_tool14.solids().sort_by_distance((-17.587059, 3, 5.54013))[0], mode=Mode.SUBTRACT)
    add(cut_extrude3_tool15.solids().sort_by_distance((3.717417, 3, 5.54013))[0], mode=Mode.SUBTRACT)
    add(cut_extrude3_tool16.solids().sort_by_distance((5.3498, 3, -9.343011))[0], mode=Mode.SUBTRACT)
    add(cut_extrude3_tool17.solids().sort_by_distance((18.600558, 3, 3.907747))[0], mode=Mode.SUBTRACT)
    add(cut_extrude3_tool18.solids().sort_by_distance((18.600558, 3, -9.343011))[0], mode=Mode.SUBTRACT)

    # Sketch8 → Boss-Extrude2 (add)
    with BuildSketch(Plane(origin=(0, 8, 0), x_dir=(1, 0, 0), z_dir=(0, 1, 0)).offset(BOSS_EXTRUDE2_START)):
        with BuildLine():
            Line((-16.93482114, 27.717632126), (3.06517886, 27.717632126))
            Line((3.06517886, 27.717632126), (3.06517886, 16.007173126))
            ThreePointArc((3.06517886, 16.007173126), (-4.02482114, 2.717632126), (3.06517886, -10.571908874))
            Line((3.06517886, -10.571908874), (3.06517886, -22.282367874))
            Line((3.06517886, -22.282367874), (-16.93482114, -22.282367874))
            Line((-16.93482114, -22.282367874), (-16.93482114, -10.571908874))
            ThreePointArc((-16.93482114, -10.571908874), (-9.84482114, 2.717632126), (-16.93482114, 16.007173126))
            Line((-16.93482114, 16.007173126), (-16.93482114, 27.717632126))
        make_face()
    extrude(amount=-BOSS_EXTRUDE2_DEPTH)

    # Sketch7 → Cut-Extrude4 (cut, up to next)
    with BuildSketch(Plane.XY.offset(22.282367874), mode=Mode.PRIVATE) as cut_extrude4_sk1:
        with Locations((-6.93482114, 14.5)):
            Circle(SKETCH7_R)
    cut_extrude4_tool1 = extrude(cut_extrude4_sk1.sketch, amount=-CUT_EXTRUDE4_REACH, mode=Mode.PRIVATE) & part.part
    add(cut_extrude4_tool1.solids().sort_by_distance((-6.934821, 14.5, 22.282368))[0], mode=Mode.SUBTRACT)

    # CSK for M3 Countersunk Flat Head Screw1
    with Locations(Plane(origin=(0, 8, 0), x_dir=(1, 0, 0), z_dir=(0, 1, 0))):
        with Locations((8.06517886, 23.517632126), (-21.93482114, 23.517632126), (-21.93482114, -18.082367874), (8.06517886, -17.821765991)):
            CounterSinkHole(CSK_FOR_M3_COUNTERSUNK_FLAT_HEAD_SCREW1_D / 2, CSK_FOR_M3_COUNTERSUNK_FLAT_HEAD_SCREW1_CSINK_D / 2, depth=CSK_FOR_M3_COUNTERSUNK_FLAT_HEAD_SCREW1_DEPTH, counter_sink_angle=CSK_FOR_M3_COUNTERSUNK_FLAT_HEAD_SCREW1_CSINK_ANGLE)
            with Locations((0, 0, -(CSK_FOR_M3_COUNTERSUNK_FLAT_HEAD_SCREW1_DEPTH + CSK_FOR_M3_COUNTERSUNK_FLAT_HEAD_SCREW1_TIP / 2))):  # 118° drill point
                Cone(0, CSK_FOR_M3_COUNTERSUNK_FLAT_HEAD_SCREW1_D / 2, CSK_FOR_M3_COUNTERSUNK_FLAT_HEAD_SCREW1_TIP, mode=Mode.SUBTRACT)


solid = part.part
